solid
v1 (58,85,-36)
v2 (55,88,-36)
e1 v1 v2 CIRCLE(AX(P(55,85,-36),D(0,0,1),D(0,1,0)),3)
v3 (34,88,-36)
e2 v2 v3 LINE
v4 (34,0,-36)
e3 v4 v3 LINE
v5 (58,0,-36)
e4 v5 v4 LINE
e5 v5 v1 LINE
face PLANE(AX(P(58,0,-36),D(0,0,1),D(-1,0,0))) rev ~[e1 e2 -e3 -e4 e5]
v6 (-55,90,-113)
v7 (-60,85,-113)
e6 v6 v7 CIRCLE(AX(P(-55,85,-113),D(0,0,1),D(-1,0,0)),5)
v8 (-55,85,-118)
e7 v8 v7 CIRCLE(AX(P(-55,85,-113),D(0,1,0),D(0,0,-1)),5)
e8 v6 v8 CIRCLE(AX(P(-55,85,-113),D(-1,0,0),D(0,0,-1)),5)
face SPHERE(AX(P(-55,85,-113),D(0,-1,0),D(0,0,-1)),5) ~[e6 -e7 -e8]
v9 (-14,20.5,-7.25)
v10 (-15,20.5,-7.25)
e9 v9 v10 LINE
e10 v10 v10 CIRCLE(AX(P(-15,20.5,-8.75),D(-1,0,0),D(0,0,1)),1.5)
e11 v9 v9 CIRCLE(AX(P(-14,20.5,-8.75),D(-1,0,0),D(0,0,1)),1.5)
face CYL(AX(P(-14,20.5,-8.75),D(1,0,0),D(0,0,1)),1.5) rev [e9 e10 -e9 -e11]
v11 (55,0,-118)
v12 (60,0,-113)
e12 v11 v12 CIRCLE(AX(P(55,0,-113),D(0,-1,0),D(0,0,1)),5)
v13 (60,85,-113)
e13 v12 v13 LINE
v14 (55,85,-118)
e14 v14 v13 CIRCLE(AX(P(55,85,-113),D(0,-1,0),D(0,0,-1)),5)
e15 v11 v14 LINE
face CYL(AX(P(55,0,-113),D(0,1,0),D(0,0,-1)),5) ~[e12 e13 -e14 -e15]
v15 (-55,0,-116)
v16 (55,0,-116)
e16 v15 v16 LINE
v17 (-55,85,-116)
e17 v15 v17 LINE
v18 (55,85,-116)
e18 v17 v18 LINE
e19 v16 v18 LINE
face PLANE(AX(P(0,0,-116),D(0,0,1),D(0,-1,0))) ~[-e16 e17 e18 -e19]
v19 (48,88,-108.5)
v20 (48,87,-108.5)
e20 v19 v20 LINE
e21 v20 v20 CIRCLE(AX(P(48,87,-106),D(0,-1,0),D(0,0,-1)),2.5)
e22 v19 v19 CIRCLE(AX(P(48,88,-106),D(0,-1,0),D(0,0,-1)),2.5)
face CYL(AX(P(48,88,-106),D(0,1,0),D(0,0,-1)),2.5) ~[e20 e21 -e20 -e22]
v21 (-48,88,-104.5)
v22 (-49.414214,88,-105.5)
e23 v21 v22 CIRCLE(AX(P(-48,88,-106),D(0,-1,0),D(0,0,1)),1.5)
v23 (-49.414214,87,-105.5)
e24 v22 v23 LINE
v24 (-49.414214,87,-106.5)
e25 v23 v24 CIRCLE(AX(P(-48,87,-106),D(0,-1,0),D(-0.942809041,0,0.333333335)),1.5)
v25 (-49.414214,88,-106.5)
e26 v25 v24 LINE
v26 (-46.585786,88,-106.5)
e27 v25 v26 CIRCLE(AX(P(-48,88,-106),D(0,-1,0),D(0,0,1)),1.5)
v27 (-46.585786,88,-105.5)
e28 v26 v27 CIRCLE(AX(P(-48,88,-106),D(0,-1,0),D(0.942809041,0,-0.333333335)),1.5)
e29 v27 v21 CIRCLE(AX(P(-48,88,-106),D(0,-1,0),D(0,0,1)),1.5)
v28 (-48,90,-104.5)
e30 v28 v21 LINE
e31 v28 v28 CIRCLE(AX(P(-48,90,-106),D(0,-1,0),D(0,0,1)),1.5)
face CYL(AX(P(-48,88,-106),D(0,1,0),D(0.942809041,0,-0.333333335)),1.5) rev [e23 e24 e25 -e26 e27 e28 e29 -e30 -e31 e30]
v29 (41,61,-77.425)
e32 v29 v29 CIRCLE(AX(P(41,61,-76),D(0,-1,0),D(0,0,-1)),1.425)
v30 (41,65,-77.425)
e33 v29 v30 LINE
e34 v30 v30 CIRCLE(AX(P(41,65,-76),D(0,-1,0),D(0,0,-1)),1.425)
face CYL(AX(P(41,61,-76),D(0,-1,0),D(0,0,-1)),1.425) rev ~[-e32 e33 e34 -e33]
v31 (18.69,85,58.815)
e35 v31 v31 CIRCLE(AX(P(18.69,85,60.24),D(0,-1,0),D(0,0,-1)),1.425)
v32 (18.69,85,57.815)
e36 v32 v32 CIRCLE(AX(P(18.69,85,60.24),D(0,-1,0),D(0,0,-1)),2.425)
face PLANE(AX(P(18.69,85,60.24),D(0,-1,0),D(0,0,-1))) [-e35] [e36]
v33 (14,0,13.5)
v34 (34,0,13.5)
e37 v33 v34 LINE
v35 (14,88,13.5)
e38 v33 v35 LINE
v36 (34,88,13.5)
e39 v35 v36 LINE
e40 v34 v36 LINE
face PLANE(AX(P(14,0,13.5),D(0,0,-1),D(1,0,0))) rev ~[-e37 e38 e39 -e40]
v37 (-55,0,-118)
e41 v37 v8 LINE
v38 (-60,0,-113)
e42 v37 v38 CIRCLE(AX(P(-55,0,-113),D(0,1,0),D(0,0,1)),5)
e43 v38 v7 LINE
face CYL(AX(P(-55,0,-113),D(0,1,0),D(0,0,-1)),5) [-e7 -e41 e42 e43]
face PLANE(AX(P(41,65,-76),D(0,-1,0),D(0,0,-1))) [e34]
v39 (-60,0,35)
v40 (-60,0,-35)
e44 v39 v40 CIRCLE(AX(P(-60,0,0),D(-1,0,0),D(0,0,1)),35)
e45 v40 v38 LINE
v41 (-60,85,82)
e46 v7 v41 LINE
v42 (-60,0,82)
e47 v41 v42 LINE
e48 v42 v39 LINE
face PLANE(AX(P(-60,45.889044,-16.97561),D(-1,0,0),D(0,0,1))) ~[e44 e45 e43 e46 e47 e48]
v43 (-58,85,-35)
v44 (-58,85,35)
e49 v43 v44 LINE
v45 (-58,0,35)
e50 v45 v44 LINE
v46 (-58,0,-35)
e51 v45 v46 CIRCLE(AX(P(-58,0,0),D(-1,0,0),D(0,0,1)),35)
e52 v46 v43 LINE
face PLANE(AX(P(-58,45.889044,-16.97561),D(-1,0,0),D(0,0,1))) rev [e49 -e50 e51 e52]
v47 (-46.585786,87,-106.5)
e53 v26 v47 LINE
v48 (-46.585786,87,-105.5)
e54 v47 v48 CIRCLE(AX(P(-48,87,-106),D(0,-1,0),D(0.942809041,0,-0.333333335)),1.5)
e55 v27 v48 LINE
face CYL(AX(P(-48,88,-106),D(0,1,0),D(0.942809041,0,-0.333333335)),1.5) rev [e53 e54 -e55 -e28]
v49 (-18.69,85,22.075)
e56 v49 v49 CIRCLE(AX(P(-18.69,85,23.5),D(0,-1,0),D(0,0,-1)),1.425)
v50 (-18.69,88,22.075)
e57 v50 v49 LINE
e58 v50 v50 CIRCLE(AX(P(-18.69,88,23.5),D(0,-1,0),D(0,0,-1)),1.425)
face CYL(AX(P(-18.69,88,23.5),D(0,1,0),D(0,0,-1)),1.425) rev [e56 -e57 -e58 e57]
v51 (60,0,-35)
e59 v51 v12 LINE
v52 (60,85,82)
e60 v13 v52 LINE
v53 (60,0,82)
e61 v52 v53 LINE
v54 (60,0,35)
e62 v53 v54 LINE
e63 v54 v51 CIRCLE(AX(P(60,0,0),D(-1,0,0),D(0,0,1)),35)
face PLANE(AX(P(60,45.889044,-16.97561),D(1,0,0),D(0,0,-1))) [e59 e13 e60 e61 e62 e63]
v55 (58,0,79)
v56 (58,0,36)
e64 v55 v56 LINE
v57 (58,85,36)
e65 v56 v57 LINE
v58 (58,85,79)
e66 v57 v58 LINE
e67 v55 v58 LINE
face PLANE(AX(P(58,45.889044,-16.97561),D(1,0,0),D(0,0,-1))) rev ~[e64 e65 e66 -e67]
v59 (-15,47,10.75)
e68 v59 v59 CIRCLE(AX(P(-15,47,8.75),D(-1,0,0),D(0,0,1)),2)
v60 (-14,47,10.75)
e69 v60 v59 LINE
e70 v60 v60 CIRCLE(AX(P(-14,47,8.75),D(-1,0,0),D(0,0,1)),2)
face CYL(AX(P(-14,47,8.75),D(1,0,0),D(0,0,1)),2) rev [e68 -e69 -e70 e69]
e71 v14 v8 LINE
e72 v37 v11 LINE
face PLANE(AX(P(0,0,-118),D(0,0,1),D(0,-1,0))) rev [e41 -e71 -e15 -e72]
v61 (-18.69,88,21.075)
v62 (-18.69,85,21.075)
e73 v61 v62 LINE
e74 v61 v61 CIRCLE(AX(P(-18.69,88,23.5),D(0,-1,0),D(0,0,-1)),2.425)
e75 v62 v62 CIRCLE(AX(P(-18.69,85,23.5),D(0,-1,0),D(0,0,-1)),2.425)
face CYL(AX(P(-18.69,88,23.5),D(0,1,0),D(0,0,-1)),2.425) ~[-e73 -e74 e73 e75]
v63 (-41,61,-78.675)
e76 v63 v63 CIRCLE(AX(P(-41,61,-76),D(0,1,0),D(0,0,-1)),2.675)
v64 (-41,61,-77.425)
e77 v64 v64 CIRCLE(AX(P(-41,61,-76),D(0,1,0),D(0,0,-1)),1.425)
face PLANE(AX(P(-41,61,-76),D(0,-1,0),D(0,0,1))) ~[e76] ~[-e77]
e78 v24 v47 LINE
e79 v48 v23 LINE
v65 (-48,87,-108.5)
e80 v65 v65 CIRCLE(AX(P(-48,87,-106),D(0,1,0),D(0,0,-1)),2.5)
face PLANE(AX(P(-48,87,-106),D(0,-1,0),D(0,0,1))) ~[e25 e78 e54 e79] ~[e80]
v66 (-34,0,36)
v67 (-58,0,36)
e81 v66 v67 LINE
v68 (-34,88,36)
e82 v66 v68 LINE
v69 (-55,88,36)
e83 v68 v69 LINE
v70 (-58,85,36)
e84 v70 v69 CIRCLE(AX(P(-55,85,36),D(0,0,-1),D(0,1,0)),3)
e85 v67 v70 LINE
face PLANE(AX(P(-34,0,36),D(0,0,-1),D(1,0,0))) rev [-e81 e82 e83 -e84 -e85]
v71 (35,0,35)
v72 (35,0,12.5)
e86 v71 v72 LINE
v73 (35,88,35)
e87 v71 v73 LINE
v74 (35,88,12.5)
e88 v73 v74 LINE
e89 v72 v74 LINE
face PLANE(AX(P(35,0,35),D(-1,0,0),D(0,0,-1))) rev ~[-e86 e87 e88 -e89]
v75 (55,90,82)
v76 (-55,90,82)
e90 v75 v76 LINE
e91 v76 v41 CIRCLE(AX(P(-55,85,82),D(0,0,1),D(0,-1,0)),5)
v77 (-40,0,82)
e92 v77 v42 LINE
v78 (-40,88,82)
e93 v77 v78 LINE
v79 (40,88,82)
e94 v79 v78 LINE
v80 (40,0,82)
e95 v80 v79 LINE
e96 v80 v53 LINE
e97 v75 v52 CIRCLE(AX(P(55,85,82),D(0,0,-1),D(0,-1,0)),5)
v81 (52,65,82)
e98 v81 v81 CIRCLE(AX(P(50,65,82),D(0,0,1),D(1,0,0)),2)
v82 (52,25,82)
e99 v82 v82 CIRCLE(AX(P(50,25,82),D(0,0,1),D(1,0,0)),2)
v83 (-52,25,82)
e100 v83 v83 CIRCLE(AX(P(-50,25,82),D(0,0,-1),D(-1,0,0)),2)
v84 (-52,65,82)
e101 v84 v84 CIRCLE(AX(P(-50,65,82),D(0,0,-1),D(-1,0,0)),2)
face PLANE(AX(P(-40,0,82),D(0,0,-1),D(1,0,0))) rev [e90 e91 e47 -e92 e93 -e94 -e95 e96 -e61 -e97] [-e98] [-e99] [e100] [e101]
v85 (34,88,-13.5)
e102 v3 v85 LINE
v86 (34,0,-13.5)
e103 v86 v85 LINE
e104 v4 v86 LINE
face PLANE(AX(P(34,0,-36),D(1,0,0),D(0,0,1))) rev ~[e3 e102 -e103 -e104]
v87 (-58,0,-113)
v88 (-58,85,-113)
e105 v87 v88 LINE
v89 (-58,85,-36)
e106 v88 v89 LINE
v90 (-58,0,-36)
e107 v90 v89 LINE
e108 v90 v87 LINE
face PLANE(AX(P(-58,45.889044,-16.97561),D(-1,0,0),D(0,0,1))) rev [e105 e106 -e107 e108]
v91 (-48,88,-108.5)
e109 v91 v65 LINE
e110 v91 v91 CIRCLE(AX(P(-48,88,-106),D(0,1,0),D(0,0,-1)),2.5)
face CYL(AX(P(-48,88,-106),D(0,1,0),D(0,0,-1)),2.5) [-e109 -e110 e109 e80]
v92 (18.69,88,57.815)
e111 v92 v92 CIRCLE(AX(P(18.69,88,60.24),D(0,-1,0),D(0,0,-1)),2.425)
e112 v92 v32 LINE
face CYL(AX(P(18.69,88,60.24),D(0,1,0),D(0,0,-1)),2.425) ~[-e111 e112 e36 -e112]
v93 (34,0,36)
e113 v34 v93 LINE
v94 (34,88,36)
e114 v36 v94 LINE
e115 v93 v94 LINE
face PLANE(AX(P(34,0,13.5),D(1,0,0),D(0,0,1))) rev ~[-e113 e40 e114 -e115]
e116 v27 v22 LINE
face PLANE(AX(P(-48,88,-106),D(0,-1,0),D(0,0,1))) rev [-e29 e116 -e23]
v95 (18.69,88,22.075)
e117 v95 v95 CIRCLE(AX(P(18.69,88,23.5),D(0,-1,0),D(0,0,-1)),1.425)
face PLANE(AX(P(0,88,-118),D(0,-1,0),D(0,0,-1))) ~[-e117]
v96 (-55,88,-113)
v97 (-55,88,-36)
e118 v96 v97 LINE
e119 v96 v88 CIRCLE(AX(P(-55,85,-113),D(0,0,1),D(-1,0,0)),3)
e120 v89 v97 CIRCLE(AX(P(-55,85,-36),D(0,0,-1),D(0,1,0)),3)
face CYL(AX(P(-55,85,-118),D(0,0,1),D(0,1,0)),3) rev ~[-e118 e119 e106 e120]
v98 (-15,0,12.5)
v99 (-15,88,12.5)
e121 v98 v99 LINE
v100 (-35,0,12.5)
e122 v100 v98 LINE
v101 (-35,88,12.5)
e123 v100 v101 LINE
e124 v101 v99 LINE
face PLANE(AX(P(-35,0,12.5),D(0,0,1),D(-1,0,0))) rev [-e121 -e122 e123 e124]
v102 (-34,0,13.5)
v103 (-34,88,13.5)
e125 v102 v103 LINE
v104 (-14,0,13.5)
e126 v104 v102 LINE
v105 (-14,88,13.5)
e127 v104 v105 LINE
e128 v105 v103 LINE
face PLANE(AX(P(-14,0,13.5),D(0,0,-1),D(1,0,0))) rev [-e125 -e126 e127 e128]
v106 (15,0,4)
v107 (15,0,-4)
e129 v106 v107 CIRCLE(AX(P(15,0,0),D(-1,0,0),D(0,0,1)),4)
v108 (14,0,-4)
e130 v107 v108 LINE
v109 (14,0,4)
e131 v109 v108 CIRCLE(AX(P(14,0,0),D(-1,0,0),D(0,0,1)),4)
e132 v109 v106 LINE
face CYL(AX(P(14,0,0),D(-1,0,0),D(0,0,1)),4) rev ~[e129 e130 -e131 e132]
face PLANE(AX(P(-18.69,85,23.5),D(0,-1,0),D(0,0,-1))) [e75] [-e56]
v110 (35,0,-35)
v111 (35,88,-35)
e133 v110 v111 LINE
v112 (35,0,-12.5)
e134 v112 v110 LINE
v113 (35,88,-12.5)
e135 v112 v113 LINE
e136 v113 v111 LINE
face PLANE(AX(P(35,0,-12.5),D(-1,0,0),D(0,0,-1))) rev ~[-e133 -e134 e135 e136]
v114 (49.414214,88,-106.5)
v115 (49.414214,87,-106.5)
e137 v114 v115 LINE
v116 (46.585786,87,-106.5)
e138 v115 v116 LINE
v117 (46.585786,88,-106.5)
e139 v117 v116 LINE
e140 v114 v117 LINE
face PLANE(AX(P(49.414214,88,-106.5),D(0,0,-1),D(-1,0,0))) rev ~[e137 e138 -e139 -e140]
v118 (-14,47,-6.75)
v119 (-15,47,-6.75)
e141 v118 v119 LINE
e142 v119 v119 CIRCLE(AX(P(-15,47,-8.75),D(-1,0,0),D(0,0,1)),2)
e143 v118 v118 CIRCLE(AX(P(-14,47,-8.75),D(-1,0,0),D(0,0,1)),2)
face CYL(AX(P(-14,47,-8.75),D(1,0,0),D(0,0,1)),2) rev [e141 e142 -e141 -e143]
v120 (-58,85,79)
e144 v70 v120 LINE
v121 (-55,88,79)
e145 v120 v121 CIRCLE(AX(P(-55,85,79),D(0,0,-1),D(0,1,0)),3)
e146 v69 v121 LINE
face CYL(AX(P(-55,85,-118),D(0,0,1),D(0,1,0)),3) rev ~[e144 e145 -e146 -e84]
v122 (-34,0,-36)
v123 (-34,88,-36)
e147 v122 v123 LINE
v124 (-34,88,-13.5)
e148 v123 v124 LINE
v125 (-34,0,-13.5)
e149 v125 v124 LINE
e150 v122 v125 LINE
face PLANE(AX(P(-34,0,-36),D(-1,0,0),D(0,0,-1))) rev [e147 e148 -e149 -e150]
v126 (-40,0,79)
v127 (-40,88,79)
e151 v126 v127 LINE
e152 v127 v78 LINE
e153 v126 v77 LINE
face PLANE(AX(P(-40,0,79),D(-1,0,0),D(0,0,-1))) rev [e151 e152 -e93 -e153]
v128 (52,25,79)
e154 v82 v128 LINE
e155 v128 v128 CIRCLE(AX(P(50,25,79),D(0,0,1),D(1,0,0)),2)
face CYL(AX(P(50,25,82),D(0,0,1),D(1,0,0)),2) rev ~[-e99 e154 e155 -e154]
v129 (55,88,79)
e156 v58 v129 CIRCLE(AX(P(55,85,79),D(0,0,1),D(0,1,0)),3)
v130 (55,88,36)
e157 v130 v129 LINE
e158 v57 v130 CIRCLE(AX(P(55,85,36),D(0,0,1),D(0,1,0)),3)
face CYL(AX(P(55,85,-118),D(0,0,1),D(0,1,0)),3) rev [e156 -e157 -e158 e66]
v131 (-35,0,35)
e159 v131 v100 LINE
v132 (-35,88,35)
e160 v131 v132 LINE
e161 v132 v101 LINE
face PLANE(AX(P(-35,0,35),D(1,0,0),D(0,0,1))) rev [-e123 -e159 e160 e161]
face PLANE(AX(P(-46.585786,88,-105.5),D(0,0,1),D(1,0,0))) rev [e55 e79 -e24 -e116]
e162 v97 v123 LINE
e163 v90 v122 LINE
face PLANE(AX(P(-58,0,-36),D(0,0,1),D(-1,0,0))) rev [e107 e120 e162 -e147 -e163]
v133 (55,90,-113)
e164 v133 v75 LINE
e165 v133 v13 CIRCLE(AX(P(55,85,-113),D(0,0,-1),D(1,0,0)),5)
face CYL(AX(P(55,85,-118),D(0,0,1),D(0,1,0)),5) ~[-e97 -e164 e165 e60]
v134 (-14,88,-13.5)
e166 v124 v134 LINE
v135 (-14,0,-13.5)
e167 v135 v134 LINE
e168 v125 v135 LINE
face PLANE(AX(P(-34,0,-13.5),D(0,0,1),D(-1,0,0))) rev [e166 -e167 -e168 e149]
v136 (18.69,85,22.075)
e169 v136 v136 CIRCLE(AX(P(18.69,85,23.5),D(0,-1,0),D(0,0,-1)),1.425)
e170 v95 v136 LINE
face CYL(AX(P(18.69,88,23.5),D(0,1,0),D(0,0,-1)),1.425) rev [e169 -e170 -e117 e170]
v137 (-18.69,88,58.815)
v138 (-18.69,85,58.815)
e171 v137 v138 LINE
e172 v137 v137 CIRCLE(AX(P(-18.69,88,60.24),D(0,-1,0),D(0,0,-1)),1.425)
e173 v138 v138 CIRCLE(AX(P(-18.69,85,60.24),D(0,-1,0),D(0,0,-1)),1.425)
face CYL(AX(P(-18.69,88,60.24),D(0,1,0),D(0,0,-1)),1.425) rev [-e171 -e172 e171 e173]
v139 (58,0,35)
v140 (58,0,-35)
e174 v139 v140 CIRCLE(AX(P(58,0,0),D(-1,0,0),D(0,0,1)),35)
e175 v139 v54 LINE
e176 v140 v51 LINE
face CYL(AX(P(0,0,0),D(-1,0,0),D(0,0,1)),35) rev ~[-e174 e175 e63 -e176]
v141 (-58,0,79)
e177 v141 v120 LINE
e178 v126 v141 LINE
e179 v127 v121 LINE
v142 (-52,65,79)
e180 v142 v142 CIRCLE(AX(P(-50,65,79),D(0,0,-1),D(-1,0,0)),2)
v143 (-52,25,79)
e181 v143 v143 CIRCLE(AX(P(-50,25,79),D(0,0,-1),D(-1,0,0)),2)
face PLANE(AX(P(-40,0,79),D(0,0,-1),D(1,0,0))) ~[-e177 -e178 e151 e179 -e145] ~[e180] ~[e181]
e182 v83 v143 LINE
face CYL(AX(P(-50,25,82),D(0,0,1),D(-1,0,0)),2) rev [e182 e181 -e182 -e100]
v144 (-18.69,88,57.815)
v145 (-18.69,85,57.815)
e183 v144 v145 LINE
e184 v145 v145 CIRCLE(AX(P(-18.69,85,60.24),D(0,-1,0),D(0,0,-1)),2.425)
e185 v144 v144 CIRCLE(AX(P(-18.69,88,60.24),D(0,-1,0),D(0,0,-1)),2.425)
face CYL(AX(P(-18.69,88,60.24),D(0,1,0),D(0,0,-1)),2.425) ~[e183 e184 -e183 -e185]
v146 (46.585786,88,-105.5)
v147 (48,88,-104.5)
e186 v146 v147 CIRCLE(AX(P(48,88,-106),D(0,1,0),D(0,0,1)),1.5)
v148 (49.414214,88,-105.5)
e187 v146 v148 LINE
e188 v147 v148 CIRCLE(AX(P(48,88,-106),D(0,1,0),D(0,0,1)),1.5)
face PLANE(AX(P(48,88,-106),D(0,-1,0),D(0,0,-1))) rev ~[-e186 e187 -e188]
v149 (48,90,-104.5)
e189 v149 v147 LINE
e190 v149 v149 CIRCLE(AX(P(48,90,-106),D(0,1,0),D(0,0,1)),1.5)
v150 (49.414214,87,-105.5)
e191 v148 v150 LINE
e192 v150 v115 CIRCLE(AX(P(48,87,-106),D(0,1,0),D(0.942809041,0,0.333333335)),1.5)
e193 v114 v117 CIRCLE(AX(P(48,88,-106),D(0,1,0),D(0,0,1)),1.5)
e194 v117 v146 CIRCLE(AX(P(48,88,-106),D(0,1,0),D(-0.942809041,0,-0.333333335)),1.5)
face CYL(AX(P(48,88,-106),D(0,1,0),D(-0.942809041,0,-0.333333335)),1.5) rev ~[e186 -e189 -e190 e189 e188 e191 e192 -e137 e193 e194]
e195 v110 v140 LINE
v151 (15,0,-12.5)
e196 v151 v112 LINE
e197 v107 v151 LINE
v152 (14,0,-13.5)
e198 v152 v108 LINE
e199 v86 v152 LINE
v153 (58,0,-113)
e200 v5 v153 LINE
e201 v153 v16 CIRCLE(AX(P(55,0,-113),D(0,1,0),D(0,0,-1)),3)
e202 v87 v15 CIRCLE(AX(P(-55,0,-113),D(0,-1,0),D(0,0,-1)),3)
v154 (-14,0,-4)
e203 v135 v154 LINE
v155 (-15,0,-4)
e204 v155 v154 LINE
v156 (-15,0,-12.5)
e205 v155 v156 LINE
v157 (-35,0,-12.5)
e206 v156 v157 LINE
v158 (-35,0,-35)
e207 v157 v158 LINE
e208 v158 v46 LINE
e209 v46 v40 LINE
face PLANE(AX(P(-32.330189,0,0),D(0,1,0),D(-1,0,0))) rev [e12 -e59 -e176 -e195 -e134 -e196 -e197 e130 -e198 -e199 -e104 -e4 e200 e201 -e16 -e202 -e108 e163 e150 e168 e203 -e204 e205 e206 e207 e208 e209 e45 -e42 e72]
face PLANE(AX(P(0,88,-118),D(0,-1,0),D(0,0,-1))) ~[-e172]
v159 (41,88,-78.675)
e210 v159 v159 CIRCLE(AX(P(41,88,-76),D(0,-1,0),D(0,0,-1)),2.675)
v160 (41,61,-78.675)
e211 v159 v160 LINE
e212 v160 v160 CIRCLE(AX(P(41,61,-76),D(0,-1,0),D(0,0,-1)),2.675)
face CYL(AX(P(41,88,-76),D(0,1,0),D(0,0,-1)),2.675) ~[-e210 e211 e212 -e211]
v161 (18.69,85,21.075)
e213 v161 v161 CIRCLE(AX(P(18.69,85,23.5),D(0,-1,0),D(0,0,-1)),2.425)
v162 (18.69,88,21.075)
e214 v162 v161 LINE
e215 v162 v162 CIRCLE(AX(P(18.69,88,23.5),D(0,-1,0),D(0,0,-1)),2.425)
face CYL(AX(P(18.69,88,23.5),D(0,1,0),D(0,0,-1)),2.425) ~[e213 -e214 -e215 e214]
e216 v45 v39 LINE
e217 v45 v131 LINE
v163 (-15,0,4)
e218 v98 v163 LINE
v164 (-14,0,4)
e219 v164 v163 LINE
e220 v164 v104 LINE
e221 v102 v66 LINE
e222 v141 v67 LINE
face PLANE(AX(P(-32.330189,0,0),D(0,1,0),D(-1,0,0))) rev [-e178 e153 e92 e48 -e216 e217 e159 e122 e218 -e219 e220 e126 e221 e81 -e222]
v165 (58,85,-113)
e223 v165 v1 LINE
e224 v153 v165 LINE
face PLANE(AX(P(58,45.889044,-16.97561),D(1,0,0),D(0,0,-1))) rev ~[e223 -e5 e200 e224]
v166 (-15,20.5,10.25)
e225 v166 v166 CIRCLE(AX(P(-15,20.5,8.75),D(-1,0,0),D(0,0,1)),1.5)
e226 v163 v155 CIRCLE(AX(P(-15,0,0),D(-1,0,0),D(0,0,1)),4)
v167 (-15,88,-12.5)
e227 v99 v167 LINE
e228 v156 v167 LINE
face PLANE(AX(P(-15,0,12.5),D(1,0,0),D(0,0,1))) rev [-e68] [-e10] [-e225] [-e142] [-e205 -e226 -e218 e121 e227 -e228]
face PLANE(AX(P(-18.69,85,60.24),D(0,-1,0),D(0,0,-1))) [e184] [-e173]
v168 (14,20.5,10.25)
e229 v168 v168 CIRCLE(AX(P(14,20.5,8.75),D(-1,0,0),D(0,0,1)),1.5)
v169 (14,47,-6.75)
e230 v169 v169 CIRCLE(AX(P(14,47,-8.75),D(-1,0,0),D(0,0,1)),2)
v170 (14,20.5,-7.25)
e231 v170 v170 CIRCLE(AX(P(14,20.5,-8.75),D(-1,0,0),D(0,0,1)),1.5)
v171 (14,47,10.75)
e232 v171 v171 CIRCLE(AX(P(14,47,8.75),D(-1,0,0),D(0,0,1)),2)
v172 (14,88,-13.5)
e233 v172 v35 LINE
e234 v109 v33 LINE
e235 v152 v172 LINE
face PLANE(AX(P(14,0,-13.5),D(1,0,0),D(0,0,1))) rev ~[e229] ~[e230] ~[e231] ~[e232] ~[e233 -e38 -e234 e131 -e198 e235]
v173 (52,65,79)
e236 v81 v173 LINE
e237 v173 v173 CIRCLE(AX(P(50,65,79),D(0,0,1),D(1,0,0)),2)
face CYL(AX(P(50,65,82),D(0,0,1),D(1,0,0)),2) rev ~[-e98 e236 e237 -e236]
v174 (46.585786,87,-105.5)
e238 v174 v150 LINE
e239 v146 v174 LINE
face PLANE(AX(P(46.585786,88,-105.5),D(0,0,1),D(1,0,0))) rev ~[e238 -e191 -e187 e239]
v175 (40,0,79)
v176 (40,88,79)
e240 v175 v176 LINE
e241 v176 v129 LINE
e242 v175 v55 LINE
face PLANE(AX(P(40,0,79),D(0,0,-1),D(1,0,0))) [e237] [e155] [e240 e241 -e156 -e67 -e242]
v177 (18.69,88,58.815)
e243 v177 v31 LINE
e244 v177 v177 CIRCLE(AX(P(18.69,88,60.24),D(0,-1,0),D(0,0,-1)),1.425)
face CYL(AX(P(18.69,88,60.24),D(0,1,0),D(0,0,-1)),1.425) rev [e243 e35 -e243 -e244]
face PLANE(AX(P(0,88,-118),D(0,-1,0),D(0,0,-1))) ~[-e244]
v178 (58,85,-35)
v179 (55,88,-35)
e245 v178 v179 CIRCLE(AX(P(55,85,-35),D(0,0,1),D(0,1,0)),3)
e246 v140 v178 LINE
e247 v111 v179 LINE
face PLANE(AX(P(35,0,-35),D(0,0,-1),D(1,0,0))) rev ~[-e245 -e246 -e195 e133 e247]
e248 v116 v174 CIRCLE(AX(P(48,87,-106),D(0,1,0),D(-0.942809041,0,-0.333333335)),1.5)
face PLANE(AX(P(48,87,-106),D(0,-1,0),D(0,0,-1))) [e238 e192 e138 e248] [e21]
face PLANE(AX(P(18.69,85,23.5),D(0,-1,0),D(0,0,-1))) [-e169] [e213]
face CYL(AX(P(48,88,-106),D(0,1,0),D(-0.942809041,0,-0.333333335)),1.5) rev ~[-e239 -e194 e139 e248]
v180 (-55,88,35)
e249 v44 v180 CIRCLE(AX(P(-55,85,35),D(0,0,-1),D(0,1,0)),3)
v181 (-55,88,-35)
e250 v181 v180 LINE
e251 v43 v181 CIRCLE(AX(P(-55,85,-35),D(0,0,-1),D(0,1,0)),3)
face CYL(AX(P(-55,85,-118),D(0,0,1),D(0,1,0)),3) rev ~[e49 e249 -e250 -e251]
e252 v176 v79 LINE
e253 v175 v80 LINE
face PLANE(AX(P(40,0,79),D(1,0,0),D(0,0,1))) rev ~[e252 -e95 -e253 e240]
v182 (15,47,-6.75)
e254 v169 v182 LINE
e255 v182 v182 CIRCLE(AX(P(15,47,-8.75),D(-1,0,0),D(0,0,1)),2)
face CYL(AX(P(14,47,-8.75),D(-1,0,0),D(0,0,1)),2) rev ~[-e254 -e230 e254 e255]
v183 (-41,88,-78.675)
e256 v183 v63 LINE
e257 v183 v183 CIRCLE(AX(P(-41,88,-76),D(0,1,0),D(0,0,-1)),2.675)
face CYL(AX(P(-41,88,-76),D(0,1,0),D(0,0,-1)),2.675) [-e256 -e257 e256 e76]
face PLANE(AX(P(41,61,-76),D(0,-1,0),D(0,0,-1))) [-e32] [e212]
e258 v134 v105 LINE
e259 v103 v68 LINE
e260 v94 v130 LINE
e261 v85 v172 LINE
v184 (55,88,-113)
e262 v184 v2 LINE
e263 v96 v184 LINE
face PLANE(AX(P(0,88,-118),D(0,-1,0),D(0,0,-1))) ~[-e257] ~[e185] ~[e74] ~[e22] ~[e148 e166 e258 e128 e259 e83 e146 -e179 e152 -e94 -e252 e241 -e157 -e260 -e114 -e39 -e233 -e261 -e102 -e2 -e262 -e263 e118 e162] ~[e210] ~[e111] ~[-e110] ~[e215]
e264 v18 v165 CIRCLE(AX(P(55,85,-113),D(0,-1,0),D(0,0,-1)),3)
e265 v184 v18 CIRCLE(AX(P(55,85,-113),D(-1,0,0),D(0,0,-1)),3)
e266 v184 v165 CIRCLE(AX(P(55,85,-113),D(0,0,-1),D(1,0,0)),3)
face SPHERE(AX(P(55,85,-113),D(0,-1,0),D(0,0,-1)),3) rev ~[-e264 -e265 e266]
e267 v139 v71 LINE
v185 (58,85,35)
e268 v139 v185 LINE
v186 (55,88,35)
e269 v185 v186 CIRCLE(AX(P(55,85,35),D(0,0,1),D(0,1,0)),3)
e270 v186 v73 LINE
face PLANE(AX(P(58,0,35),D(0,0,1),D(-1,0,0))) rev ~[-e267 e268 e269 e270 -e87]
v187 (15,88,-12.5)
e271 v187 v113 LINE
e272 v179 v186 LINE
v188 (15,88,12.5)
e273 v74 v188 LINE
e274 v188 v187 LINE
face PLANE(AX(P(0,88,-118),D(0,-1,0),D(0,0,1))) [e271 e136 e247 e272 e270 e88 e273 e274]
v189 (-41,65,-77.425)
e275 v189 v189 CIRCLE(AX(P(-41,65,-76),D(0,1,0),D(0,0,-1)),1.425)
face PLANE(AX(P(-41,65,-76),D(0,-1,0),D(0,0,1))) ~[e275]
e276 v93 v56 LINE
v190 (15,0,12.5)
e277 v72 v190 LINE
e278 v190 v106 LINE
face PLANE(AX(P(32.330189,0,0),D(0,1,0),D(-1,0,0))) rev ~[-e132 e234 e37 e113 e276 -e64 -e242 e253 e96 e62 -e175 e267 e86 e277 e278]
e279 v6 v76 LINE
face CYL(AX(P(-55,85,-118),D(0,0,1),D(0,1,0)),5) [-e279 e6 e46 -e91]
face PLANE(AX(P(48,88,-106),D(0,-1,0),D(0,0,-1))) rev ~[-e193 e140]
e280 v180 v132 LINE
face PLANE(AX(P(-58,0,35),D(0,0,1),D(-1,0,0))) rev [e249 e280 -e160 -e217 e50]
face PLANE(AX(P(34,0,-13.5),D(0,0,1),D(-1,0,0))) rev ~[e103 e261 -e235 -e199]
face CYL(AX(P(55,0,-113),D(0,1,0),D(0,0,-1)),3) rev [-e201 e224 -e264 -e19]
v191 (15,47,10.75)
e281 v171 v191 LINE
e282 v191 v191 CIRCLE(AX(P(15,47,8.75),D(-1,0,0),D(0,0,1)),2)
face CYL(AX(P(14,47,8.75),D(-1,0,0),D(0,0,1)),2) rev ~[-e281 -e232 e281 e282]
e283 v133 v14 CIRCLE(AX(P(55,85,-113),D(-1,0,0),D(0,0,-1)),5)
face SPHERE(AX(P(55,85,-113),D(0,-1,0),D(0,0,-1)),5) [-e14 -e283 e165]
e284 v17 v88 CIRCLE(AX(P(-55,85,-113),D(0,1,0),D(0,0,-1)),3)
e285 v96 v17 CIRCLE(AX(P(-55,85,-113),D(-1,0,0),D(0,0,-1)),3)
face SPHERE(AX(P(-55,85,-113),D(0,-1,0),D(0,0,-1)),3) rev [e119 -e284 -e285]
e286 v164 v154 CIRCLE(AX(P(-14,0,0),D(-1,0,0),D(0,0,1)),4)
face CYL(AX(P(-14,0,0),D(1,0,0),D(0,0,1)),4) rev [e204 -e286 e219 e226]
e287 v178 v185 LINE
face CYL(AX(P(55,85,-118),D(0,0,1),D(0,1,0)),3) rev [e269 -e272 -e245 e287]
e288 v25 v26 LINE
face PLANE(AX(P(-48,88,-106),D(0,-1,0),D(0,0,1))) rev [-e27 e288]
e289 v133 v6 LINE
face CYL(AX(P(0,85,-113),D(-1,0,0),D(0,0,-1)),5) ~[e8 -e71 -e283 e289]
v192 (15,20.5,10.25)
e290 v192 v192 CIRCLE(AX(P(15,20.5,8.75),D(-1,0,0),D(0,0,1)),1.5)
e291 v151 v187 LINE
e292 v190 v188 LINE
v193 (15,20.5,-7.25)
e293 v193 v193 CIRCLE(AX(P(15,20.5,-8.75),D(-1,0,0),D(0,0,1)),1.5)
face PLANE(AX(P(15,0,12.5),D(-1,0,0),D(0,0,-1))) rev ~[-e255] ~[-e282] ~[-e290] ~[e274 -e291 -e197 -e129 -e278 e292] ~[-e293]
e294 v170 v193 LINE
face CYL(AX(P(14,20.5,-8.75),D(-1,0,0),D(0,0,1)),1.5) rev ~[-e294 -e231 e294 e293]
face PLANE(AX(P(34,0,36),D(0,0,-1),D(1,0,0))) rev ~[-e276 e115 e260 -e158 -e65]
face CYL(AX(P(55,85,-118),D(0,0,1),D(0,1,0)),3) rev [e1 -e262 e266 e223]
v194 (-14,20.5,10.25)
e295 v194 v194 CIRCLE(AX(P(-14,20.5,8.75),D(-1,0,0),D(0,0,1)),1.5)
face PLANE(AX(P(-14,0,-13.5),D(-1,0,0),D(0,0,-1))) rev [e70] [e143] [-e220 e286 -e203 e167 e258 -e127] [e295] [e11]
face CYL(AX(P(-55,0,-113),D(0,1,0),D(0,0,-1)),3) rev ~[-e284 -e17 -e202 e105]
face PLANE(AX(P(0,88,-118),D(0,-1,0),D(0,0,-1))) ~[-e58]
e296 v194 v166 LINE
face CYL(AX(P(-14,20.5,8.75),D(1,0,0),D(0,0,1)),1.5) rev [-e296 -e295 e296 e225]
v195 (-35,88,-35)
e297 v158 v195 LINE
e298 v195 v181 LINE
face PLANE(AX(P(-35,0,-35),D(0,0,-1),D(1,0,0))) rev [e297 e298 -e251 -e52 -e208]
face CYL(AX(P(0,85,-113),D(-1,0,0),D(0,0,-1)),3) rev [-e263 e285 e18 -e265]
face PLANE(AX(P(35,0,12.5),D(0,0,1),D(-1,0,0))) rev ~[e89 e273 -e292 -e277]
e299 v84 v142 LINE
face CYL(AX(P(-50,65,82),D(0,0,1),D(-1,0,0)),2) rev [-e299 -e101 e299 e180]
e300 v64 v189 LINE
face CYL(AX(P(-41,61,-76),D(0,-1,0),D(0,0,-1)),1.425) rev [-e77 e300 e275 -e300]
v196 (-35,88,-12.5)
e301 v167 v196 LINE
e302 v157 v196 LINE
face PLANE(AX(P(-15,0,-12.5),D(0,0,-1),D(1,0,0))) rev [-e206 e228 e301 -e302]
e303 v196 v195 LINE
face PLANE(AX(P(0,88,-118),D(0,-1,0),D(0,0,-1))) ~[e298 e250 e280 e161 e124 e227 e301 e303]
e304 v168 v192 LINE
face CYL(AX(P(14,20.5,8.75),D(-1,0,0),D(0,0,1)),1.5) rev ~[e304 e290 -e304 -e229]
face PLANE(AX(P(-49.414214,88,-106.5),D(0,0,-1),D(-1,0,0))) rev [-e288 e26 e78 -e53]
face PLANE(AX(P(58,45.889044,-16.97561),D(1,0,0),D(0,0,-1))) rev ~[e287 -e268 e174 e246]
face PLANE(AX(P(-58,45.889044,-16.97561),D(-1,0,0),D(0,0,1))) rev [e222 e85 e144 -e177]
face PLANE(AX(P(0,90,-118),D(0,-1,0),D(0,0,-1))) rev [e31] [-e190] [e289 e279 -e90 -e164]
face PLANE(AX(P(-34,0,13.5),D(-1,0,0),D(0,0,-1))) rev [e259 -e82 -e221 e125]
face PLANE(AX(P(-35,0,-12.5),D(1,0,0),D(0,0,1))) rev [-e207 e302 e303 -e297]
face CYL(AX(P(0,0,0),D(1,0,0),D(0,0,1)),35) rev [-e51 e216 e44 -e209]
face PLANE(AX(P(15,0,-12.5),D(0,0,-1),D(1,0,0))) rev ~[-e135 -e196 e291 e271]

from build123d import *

# Parameters (mm, degrees)
BOSS_EXTRUDE1_DEPTH = 60
FILLET1_R           = 5
SHELL1_T            = -2
SKETCH2_R           = 2.675
BOSS_EXTRUDE2_DEPTH = 27
SKETCH3_R           = 1.425
CUT_EXTRUDE1_DEPTH  = 4
SKETCH4_W           = 18
SKETCH4_H           = 3
BOSS_EXTRUDE3_DEPTH = 88
SKETCH5_R           = 2
CUT_EXTRUDE2_DEPTH  = 3
BOSS_EXTRUDE4_DEPTH = 88
SKETCH8_R           = 1.5
CUT_EXTRUDE3_DEPTH  = 2
SKETCH9_R           = 2.5
BOSS_EXTRUDE5_DEPTH = 1
SKETCH10_R          = 4
SKETCH10_R_2        = 1.5
SKETCH10_R_3        = 2
CUT_EXTRUDE4_DEPTH  = 1
SKETCH11_R          = 2.425
SKETCH11_R_2        = 1.425
BOSS_EXTRUDE6_DEPTH = 3


with BuildPart() as part:
    # Sketch1 → Boss-Extrude1 (new body)
    with BuildSketch(Plane(origin=(0, 0, 0), x_dir=(0, 0, -1), z_dir=(1, 0, 0))):
        with BuildLine():
            Line((35, 0), (118, 0))
            Line((118, 0), (118, 90))
            Line((118, 90), (-82, 90))
            Line((-82, 90), (-82, 0))
            Line((-82, 0), (-35, 0))
            ThreePointArc((-35, 0), (0, 35), (35, 0))
        make_face()
    extrude(amount=BOSS_EXTRUDE1_DEPTH)

    # Fillet1
    fillet1_edges = [part.edges().sort_by_distance(p)[0] for p in [
        (60, 45, -118),
        (30, 90, -118),
        (60, 90, -18),
    ]]
    fillet(fillet1_edges, radius=FILLET1_R)

    # Shell1
    shell1_openings = [part.faces().sort_by_distance(p)[0] for p in [
        (30, 0, 58.5),
        (29.971275261, 44.956357534, 82),
        (29.96885008, 0, -76.456447556),
        (30, 17.5, 0),
        (0, 48.594891541, -20.122257458),
    ]]
    offset(amount=SHELL1_T, openings=shell1_openings, kind=Kind.INTERSECTION)

    # Sketch2 → Boss-Extrude2 (add)
    with BuildSketch(Plane.XZ.offset(-88)):
        with Locations(Location((41, -76, 0), (0, 0, 270))):  # turned: the seam where the file's is
            Circle(SKETCH2_R)
    extrude(amount=BOSS_EXTRUDE2_DEPTH)

    # Sketch3 → Cut-Extrude1 (cut)
    with BuildSketch(Plane.XZ.offset(-61)):
        with Locations(Location((41, -76, 0), (0, 0, 270))):  # turned: the seam where the file's is
            Circle(SKETCH3_R)
    extrude(amount=-CUT_EXTRUDE1_DEPTH, mode=Mode.SUBTRACT)

    # Sketch4 → Boss-Extrude3 (add)
    with BuildSketch(Plane.XZ):
        with Locations((49, 80.5)):
            Rectangle(SKETCH4_W, SKETCH4_H)
    extrude(amount=-BOSS_EXTRUDE3_DEPTH)

    # Sketch5 → Cut-Extrude2 (cut)
    with BuildSketch(Plane.XY.offset(82)):
        with Locations((50, 25)):
            Circle(SKETCH5_R)
        with Locations((50, 65)):
            Circle(SKETCH5_R)
    extrude(amount=-CUT_EXTRUDE2_DEPTH, mode=Mode.SUBTRACT)

    # Sketch6 → Boss-Extrude4 (add)
    with BuildSketch(Plane.XZ):
        Polygon((58, 35), (35, 35), (35, 12.5), (15, 12.5), (15, -12.5), (35, -12.5), (35, -35), (58, -35), (58, -36), (34, -36), (34, -13.5), (14, -13.5), (14, 13.5), (34, 13.5), (34, 36), (58, 36), align=None)
    extrude(amount=-BOSS_EXTRUDE4_DEPTH)

    # Sketch8 → Cut-Extrude3 (cut)
    with BuildSketch(Plane(origin=(0, 90, 0), x_dir=(1, 0, 0), z_dir=(0, 1, 0))):
        with Locations(Location((48, 106, 0), (0, 0, 270))):  # turned: the seam where the file's is
            Circle(SKETCH8_R)
    extrude(amount=-CUT_EXTRUDE3_DEPTH, mode=Mode.SUBTRACT)

    # Sketch9 → Boss-Extrude5 (add)
    with BuildSketch(Plane.XZ.offset(-88)):
        with Locations(Location((48, -106, 0), (0, 0, 270))):  # turned: the seam where the file's is
            Circle(SKETCH9_R)
        with BuildLine():
            Line((46.585786438, -105.5), (49.414213562, -105.5))
            ThreePointArc((49.414213562, -105.5), (49.5, -106), (49.414213562, -106.5))
            Line((49.414213562, -106.5), (46.585786438, -106.5))
            ThreePointArc((46.585786438, -106.5), (46.5, -106), (46.585786438, -105.5))
        make_face(mode=Mode.SUBTRACT)
    extrude(amount=BOSS_EXTRUDE5_DEPTH)

    # Sketch10 → Cut-Extrude4 (cut)
    with BuildSketch(Plane.ZY.offset(-14)):
        Circle(SKETCH10_R)
        with Locations((-8.75, 20.5)):
            Circle(SKETCH10_R_2)
        with Locations((8.75, 20.5)):
            Circle(SKETCH10_R_2)
        with Locations((-8.75, 47)):
            Circle(SKETCH10_R_3)
        with Locations((8.75, 47)):
            Circle(SKETCH10_R_3)
    extrude(amount=-CUT_EXTRUDE4_DEPTH, mode=Mode.SUBTRACT)

    # Mirror1: part across plane


with BuildPart() as part_1:
    add(part.part)
    add(part.part.mirror(Plane(origin=(0, 0, 0), x_dir=(0, 0, 1), z_dir=(1, 0, 0))))

    # Sketch11 → Boss-Extrude6 (add)
    with BuildSketch(Plane.XZ.offset(-88)):
        with Locations(Location((18.69, 23.5, 0), (0, 0, 270))):  # turned: the seam where the file's is
            Circle(SKETCH11_R)
        with Locations(Location((18.69, 23.5, 0), (0, 0, 270))):  # turned: the seam where the file's is
            Circle(SKETCH11_R_2, mode=Mode.SUBTRACT)
        with Locations(Location((18.69, 60.24, 0), (0, 0, 270))):  # turned: the seam where the file's is
            Circle(SKETCH11_R)
        with Locations(Location((18.69, 60.24, 0), (0, 0, 270))):  # turned: the seam where the file's is
            Circle(SKETCH11_R_2, mode=Mode.SUBTRACT)
        with Locations(Location((-18.69, 60.24, 0), (0, 0, 270))):  # turned: the seam where the file's is
            Circle(SKETCH11_R)
        with Locations(Location((-18.69, 60.24, 0), (0, 0, 270))):  # turned: the seam where the file's is
            Circle(SKETCH11_R_2, mode=Mode.SUBTRACT)
        with Locations(Location((-18.69, 23.5, 0), (0, 0, 270))):  # turned: the seam where the file's is
            Circle(SKETCH11_R)
        with Locations(Location((-18.69, 23.5, 0), (0, 0, 270))):  # turned: the seam where the file's is
            Circle(SKETCH11_R_2, mode=Mode.SUBTRACT)
    extrude(amount=BOSS_EXTRUDE6_DEPTH)


solid = part_1.part
